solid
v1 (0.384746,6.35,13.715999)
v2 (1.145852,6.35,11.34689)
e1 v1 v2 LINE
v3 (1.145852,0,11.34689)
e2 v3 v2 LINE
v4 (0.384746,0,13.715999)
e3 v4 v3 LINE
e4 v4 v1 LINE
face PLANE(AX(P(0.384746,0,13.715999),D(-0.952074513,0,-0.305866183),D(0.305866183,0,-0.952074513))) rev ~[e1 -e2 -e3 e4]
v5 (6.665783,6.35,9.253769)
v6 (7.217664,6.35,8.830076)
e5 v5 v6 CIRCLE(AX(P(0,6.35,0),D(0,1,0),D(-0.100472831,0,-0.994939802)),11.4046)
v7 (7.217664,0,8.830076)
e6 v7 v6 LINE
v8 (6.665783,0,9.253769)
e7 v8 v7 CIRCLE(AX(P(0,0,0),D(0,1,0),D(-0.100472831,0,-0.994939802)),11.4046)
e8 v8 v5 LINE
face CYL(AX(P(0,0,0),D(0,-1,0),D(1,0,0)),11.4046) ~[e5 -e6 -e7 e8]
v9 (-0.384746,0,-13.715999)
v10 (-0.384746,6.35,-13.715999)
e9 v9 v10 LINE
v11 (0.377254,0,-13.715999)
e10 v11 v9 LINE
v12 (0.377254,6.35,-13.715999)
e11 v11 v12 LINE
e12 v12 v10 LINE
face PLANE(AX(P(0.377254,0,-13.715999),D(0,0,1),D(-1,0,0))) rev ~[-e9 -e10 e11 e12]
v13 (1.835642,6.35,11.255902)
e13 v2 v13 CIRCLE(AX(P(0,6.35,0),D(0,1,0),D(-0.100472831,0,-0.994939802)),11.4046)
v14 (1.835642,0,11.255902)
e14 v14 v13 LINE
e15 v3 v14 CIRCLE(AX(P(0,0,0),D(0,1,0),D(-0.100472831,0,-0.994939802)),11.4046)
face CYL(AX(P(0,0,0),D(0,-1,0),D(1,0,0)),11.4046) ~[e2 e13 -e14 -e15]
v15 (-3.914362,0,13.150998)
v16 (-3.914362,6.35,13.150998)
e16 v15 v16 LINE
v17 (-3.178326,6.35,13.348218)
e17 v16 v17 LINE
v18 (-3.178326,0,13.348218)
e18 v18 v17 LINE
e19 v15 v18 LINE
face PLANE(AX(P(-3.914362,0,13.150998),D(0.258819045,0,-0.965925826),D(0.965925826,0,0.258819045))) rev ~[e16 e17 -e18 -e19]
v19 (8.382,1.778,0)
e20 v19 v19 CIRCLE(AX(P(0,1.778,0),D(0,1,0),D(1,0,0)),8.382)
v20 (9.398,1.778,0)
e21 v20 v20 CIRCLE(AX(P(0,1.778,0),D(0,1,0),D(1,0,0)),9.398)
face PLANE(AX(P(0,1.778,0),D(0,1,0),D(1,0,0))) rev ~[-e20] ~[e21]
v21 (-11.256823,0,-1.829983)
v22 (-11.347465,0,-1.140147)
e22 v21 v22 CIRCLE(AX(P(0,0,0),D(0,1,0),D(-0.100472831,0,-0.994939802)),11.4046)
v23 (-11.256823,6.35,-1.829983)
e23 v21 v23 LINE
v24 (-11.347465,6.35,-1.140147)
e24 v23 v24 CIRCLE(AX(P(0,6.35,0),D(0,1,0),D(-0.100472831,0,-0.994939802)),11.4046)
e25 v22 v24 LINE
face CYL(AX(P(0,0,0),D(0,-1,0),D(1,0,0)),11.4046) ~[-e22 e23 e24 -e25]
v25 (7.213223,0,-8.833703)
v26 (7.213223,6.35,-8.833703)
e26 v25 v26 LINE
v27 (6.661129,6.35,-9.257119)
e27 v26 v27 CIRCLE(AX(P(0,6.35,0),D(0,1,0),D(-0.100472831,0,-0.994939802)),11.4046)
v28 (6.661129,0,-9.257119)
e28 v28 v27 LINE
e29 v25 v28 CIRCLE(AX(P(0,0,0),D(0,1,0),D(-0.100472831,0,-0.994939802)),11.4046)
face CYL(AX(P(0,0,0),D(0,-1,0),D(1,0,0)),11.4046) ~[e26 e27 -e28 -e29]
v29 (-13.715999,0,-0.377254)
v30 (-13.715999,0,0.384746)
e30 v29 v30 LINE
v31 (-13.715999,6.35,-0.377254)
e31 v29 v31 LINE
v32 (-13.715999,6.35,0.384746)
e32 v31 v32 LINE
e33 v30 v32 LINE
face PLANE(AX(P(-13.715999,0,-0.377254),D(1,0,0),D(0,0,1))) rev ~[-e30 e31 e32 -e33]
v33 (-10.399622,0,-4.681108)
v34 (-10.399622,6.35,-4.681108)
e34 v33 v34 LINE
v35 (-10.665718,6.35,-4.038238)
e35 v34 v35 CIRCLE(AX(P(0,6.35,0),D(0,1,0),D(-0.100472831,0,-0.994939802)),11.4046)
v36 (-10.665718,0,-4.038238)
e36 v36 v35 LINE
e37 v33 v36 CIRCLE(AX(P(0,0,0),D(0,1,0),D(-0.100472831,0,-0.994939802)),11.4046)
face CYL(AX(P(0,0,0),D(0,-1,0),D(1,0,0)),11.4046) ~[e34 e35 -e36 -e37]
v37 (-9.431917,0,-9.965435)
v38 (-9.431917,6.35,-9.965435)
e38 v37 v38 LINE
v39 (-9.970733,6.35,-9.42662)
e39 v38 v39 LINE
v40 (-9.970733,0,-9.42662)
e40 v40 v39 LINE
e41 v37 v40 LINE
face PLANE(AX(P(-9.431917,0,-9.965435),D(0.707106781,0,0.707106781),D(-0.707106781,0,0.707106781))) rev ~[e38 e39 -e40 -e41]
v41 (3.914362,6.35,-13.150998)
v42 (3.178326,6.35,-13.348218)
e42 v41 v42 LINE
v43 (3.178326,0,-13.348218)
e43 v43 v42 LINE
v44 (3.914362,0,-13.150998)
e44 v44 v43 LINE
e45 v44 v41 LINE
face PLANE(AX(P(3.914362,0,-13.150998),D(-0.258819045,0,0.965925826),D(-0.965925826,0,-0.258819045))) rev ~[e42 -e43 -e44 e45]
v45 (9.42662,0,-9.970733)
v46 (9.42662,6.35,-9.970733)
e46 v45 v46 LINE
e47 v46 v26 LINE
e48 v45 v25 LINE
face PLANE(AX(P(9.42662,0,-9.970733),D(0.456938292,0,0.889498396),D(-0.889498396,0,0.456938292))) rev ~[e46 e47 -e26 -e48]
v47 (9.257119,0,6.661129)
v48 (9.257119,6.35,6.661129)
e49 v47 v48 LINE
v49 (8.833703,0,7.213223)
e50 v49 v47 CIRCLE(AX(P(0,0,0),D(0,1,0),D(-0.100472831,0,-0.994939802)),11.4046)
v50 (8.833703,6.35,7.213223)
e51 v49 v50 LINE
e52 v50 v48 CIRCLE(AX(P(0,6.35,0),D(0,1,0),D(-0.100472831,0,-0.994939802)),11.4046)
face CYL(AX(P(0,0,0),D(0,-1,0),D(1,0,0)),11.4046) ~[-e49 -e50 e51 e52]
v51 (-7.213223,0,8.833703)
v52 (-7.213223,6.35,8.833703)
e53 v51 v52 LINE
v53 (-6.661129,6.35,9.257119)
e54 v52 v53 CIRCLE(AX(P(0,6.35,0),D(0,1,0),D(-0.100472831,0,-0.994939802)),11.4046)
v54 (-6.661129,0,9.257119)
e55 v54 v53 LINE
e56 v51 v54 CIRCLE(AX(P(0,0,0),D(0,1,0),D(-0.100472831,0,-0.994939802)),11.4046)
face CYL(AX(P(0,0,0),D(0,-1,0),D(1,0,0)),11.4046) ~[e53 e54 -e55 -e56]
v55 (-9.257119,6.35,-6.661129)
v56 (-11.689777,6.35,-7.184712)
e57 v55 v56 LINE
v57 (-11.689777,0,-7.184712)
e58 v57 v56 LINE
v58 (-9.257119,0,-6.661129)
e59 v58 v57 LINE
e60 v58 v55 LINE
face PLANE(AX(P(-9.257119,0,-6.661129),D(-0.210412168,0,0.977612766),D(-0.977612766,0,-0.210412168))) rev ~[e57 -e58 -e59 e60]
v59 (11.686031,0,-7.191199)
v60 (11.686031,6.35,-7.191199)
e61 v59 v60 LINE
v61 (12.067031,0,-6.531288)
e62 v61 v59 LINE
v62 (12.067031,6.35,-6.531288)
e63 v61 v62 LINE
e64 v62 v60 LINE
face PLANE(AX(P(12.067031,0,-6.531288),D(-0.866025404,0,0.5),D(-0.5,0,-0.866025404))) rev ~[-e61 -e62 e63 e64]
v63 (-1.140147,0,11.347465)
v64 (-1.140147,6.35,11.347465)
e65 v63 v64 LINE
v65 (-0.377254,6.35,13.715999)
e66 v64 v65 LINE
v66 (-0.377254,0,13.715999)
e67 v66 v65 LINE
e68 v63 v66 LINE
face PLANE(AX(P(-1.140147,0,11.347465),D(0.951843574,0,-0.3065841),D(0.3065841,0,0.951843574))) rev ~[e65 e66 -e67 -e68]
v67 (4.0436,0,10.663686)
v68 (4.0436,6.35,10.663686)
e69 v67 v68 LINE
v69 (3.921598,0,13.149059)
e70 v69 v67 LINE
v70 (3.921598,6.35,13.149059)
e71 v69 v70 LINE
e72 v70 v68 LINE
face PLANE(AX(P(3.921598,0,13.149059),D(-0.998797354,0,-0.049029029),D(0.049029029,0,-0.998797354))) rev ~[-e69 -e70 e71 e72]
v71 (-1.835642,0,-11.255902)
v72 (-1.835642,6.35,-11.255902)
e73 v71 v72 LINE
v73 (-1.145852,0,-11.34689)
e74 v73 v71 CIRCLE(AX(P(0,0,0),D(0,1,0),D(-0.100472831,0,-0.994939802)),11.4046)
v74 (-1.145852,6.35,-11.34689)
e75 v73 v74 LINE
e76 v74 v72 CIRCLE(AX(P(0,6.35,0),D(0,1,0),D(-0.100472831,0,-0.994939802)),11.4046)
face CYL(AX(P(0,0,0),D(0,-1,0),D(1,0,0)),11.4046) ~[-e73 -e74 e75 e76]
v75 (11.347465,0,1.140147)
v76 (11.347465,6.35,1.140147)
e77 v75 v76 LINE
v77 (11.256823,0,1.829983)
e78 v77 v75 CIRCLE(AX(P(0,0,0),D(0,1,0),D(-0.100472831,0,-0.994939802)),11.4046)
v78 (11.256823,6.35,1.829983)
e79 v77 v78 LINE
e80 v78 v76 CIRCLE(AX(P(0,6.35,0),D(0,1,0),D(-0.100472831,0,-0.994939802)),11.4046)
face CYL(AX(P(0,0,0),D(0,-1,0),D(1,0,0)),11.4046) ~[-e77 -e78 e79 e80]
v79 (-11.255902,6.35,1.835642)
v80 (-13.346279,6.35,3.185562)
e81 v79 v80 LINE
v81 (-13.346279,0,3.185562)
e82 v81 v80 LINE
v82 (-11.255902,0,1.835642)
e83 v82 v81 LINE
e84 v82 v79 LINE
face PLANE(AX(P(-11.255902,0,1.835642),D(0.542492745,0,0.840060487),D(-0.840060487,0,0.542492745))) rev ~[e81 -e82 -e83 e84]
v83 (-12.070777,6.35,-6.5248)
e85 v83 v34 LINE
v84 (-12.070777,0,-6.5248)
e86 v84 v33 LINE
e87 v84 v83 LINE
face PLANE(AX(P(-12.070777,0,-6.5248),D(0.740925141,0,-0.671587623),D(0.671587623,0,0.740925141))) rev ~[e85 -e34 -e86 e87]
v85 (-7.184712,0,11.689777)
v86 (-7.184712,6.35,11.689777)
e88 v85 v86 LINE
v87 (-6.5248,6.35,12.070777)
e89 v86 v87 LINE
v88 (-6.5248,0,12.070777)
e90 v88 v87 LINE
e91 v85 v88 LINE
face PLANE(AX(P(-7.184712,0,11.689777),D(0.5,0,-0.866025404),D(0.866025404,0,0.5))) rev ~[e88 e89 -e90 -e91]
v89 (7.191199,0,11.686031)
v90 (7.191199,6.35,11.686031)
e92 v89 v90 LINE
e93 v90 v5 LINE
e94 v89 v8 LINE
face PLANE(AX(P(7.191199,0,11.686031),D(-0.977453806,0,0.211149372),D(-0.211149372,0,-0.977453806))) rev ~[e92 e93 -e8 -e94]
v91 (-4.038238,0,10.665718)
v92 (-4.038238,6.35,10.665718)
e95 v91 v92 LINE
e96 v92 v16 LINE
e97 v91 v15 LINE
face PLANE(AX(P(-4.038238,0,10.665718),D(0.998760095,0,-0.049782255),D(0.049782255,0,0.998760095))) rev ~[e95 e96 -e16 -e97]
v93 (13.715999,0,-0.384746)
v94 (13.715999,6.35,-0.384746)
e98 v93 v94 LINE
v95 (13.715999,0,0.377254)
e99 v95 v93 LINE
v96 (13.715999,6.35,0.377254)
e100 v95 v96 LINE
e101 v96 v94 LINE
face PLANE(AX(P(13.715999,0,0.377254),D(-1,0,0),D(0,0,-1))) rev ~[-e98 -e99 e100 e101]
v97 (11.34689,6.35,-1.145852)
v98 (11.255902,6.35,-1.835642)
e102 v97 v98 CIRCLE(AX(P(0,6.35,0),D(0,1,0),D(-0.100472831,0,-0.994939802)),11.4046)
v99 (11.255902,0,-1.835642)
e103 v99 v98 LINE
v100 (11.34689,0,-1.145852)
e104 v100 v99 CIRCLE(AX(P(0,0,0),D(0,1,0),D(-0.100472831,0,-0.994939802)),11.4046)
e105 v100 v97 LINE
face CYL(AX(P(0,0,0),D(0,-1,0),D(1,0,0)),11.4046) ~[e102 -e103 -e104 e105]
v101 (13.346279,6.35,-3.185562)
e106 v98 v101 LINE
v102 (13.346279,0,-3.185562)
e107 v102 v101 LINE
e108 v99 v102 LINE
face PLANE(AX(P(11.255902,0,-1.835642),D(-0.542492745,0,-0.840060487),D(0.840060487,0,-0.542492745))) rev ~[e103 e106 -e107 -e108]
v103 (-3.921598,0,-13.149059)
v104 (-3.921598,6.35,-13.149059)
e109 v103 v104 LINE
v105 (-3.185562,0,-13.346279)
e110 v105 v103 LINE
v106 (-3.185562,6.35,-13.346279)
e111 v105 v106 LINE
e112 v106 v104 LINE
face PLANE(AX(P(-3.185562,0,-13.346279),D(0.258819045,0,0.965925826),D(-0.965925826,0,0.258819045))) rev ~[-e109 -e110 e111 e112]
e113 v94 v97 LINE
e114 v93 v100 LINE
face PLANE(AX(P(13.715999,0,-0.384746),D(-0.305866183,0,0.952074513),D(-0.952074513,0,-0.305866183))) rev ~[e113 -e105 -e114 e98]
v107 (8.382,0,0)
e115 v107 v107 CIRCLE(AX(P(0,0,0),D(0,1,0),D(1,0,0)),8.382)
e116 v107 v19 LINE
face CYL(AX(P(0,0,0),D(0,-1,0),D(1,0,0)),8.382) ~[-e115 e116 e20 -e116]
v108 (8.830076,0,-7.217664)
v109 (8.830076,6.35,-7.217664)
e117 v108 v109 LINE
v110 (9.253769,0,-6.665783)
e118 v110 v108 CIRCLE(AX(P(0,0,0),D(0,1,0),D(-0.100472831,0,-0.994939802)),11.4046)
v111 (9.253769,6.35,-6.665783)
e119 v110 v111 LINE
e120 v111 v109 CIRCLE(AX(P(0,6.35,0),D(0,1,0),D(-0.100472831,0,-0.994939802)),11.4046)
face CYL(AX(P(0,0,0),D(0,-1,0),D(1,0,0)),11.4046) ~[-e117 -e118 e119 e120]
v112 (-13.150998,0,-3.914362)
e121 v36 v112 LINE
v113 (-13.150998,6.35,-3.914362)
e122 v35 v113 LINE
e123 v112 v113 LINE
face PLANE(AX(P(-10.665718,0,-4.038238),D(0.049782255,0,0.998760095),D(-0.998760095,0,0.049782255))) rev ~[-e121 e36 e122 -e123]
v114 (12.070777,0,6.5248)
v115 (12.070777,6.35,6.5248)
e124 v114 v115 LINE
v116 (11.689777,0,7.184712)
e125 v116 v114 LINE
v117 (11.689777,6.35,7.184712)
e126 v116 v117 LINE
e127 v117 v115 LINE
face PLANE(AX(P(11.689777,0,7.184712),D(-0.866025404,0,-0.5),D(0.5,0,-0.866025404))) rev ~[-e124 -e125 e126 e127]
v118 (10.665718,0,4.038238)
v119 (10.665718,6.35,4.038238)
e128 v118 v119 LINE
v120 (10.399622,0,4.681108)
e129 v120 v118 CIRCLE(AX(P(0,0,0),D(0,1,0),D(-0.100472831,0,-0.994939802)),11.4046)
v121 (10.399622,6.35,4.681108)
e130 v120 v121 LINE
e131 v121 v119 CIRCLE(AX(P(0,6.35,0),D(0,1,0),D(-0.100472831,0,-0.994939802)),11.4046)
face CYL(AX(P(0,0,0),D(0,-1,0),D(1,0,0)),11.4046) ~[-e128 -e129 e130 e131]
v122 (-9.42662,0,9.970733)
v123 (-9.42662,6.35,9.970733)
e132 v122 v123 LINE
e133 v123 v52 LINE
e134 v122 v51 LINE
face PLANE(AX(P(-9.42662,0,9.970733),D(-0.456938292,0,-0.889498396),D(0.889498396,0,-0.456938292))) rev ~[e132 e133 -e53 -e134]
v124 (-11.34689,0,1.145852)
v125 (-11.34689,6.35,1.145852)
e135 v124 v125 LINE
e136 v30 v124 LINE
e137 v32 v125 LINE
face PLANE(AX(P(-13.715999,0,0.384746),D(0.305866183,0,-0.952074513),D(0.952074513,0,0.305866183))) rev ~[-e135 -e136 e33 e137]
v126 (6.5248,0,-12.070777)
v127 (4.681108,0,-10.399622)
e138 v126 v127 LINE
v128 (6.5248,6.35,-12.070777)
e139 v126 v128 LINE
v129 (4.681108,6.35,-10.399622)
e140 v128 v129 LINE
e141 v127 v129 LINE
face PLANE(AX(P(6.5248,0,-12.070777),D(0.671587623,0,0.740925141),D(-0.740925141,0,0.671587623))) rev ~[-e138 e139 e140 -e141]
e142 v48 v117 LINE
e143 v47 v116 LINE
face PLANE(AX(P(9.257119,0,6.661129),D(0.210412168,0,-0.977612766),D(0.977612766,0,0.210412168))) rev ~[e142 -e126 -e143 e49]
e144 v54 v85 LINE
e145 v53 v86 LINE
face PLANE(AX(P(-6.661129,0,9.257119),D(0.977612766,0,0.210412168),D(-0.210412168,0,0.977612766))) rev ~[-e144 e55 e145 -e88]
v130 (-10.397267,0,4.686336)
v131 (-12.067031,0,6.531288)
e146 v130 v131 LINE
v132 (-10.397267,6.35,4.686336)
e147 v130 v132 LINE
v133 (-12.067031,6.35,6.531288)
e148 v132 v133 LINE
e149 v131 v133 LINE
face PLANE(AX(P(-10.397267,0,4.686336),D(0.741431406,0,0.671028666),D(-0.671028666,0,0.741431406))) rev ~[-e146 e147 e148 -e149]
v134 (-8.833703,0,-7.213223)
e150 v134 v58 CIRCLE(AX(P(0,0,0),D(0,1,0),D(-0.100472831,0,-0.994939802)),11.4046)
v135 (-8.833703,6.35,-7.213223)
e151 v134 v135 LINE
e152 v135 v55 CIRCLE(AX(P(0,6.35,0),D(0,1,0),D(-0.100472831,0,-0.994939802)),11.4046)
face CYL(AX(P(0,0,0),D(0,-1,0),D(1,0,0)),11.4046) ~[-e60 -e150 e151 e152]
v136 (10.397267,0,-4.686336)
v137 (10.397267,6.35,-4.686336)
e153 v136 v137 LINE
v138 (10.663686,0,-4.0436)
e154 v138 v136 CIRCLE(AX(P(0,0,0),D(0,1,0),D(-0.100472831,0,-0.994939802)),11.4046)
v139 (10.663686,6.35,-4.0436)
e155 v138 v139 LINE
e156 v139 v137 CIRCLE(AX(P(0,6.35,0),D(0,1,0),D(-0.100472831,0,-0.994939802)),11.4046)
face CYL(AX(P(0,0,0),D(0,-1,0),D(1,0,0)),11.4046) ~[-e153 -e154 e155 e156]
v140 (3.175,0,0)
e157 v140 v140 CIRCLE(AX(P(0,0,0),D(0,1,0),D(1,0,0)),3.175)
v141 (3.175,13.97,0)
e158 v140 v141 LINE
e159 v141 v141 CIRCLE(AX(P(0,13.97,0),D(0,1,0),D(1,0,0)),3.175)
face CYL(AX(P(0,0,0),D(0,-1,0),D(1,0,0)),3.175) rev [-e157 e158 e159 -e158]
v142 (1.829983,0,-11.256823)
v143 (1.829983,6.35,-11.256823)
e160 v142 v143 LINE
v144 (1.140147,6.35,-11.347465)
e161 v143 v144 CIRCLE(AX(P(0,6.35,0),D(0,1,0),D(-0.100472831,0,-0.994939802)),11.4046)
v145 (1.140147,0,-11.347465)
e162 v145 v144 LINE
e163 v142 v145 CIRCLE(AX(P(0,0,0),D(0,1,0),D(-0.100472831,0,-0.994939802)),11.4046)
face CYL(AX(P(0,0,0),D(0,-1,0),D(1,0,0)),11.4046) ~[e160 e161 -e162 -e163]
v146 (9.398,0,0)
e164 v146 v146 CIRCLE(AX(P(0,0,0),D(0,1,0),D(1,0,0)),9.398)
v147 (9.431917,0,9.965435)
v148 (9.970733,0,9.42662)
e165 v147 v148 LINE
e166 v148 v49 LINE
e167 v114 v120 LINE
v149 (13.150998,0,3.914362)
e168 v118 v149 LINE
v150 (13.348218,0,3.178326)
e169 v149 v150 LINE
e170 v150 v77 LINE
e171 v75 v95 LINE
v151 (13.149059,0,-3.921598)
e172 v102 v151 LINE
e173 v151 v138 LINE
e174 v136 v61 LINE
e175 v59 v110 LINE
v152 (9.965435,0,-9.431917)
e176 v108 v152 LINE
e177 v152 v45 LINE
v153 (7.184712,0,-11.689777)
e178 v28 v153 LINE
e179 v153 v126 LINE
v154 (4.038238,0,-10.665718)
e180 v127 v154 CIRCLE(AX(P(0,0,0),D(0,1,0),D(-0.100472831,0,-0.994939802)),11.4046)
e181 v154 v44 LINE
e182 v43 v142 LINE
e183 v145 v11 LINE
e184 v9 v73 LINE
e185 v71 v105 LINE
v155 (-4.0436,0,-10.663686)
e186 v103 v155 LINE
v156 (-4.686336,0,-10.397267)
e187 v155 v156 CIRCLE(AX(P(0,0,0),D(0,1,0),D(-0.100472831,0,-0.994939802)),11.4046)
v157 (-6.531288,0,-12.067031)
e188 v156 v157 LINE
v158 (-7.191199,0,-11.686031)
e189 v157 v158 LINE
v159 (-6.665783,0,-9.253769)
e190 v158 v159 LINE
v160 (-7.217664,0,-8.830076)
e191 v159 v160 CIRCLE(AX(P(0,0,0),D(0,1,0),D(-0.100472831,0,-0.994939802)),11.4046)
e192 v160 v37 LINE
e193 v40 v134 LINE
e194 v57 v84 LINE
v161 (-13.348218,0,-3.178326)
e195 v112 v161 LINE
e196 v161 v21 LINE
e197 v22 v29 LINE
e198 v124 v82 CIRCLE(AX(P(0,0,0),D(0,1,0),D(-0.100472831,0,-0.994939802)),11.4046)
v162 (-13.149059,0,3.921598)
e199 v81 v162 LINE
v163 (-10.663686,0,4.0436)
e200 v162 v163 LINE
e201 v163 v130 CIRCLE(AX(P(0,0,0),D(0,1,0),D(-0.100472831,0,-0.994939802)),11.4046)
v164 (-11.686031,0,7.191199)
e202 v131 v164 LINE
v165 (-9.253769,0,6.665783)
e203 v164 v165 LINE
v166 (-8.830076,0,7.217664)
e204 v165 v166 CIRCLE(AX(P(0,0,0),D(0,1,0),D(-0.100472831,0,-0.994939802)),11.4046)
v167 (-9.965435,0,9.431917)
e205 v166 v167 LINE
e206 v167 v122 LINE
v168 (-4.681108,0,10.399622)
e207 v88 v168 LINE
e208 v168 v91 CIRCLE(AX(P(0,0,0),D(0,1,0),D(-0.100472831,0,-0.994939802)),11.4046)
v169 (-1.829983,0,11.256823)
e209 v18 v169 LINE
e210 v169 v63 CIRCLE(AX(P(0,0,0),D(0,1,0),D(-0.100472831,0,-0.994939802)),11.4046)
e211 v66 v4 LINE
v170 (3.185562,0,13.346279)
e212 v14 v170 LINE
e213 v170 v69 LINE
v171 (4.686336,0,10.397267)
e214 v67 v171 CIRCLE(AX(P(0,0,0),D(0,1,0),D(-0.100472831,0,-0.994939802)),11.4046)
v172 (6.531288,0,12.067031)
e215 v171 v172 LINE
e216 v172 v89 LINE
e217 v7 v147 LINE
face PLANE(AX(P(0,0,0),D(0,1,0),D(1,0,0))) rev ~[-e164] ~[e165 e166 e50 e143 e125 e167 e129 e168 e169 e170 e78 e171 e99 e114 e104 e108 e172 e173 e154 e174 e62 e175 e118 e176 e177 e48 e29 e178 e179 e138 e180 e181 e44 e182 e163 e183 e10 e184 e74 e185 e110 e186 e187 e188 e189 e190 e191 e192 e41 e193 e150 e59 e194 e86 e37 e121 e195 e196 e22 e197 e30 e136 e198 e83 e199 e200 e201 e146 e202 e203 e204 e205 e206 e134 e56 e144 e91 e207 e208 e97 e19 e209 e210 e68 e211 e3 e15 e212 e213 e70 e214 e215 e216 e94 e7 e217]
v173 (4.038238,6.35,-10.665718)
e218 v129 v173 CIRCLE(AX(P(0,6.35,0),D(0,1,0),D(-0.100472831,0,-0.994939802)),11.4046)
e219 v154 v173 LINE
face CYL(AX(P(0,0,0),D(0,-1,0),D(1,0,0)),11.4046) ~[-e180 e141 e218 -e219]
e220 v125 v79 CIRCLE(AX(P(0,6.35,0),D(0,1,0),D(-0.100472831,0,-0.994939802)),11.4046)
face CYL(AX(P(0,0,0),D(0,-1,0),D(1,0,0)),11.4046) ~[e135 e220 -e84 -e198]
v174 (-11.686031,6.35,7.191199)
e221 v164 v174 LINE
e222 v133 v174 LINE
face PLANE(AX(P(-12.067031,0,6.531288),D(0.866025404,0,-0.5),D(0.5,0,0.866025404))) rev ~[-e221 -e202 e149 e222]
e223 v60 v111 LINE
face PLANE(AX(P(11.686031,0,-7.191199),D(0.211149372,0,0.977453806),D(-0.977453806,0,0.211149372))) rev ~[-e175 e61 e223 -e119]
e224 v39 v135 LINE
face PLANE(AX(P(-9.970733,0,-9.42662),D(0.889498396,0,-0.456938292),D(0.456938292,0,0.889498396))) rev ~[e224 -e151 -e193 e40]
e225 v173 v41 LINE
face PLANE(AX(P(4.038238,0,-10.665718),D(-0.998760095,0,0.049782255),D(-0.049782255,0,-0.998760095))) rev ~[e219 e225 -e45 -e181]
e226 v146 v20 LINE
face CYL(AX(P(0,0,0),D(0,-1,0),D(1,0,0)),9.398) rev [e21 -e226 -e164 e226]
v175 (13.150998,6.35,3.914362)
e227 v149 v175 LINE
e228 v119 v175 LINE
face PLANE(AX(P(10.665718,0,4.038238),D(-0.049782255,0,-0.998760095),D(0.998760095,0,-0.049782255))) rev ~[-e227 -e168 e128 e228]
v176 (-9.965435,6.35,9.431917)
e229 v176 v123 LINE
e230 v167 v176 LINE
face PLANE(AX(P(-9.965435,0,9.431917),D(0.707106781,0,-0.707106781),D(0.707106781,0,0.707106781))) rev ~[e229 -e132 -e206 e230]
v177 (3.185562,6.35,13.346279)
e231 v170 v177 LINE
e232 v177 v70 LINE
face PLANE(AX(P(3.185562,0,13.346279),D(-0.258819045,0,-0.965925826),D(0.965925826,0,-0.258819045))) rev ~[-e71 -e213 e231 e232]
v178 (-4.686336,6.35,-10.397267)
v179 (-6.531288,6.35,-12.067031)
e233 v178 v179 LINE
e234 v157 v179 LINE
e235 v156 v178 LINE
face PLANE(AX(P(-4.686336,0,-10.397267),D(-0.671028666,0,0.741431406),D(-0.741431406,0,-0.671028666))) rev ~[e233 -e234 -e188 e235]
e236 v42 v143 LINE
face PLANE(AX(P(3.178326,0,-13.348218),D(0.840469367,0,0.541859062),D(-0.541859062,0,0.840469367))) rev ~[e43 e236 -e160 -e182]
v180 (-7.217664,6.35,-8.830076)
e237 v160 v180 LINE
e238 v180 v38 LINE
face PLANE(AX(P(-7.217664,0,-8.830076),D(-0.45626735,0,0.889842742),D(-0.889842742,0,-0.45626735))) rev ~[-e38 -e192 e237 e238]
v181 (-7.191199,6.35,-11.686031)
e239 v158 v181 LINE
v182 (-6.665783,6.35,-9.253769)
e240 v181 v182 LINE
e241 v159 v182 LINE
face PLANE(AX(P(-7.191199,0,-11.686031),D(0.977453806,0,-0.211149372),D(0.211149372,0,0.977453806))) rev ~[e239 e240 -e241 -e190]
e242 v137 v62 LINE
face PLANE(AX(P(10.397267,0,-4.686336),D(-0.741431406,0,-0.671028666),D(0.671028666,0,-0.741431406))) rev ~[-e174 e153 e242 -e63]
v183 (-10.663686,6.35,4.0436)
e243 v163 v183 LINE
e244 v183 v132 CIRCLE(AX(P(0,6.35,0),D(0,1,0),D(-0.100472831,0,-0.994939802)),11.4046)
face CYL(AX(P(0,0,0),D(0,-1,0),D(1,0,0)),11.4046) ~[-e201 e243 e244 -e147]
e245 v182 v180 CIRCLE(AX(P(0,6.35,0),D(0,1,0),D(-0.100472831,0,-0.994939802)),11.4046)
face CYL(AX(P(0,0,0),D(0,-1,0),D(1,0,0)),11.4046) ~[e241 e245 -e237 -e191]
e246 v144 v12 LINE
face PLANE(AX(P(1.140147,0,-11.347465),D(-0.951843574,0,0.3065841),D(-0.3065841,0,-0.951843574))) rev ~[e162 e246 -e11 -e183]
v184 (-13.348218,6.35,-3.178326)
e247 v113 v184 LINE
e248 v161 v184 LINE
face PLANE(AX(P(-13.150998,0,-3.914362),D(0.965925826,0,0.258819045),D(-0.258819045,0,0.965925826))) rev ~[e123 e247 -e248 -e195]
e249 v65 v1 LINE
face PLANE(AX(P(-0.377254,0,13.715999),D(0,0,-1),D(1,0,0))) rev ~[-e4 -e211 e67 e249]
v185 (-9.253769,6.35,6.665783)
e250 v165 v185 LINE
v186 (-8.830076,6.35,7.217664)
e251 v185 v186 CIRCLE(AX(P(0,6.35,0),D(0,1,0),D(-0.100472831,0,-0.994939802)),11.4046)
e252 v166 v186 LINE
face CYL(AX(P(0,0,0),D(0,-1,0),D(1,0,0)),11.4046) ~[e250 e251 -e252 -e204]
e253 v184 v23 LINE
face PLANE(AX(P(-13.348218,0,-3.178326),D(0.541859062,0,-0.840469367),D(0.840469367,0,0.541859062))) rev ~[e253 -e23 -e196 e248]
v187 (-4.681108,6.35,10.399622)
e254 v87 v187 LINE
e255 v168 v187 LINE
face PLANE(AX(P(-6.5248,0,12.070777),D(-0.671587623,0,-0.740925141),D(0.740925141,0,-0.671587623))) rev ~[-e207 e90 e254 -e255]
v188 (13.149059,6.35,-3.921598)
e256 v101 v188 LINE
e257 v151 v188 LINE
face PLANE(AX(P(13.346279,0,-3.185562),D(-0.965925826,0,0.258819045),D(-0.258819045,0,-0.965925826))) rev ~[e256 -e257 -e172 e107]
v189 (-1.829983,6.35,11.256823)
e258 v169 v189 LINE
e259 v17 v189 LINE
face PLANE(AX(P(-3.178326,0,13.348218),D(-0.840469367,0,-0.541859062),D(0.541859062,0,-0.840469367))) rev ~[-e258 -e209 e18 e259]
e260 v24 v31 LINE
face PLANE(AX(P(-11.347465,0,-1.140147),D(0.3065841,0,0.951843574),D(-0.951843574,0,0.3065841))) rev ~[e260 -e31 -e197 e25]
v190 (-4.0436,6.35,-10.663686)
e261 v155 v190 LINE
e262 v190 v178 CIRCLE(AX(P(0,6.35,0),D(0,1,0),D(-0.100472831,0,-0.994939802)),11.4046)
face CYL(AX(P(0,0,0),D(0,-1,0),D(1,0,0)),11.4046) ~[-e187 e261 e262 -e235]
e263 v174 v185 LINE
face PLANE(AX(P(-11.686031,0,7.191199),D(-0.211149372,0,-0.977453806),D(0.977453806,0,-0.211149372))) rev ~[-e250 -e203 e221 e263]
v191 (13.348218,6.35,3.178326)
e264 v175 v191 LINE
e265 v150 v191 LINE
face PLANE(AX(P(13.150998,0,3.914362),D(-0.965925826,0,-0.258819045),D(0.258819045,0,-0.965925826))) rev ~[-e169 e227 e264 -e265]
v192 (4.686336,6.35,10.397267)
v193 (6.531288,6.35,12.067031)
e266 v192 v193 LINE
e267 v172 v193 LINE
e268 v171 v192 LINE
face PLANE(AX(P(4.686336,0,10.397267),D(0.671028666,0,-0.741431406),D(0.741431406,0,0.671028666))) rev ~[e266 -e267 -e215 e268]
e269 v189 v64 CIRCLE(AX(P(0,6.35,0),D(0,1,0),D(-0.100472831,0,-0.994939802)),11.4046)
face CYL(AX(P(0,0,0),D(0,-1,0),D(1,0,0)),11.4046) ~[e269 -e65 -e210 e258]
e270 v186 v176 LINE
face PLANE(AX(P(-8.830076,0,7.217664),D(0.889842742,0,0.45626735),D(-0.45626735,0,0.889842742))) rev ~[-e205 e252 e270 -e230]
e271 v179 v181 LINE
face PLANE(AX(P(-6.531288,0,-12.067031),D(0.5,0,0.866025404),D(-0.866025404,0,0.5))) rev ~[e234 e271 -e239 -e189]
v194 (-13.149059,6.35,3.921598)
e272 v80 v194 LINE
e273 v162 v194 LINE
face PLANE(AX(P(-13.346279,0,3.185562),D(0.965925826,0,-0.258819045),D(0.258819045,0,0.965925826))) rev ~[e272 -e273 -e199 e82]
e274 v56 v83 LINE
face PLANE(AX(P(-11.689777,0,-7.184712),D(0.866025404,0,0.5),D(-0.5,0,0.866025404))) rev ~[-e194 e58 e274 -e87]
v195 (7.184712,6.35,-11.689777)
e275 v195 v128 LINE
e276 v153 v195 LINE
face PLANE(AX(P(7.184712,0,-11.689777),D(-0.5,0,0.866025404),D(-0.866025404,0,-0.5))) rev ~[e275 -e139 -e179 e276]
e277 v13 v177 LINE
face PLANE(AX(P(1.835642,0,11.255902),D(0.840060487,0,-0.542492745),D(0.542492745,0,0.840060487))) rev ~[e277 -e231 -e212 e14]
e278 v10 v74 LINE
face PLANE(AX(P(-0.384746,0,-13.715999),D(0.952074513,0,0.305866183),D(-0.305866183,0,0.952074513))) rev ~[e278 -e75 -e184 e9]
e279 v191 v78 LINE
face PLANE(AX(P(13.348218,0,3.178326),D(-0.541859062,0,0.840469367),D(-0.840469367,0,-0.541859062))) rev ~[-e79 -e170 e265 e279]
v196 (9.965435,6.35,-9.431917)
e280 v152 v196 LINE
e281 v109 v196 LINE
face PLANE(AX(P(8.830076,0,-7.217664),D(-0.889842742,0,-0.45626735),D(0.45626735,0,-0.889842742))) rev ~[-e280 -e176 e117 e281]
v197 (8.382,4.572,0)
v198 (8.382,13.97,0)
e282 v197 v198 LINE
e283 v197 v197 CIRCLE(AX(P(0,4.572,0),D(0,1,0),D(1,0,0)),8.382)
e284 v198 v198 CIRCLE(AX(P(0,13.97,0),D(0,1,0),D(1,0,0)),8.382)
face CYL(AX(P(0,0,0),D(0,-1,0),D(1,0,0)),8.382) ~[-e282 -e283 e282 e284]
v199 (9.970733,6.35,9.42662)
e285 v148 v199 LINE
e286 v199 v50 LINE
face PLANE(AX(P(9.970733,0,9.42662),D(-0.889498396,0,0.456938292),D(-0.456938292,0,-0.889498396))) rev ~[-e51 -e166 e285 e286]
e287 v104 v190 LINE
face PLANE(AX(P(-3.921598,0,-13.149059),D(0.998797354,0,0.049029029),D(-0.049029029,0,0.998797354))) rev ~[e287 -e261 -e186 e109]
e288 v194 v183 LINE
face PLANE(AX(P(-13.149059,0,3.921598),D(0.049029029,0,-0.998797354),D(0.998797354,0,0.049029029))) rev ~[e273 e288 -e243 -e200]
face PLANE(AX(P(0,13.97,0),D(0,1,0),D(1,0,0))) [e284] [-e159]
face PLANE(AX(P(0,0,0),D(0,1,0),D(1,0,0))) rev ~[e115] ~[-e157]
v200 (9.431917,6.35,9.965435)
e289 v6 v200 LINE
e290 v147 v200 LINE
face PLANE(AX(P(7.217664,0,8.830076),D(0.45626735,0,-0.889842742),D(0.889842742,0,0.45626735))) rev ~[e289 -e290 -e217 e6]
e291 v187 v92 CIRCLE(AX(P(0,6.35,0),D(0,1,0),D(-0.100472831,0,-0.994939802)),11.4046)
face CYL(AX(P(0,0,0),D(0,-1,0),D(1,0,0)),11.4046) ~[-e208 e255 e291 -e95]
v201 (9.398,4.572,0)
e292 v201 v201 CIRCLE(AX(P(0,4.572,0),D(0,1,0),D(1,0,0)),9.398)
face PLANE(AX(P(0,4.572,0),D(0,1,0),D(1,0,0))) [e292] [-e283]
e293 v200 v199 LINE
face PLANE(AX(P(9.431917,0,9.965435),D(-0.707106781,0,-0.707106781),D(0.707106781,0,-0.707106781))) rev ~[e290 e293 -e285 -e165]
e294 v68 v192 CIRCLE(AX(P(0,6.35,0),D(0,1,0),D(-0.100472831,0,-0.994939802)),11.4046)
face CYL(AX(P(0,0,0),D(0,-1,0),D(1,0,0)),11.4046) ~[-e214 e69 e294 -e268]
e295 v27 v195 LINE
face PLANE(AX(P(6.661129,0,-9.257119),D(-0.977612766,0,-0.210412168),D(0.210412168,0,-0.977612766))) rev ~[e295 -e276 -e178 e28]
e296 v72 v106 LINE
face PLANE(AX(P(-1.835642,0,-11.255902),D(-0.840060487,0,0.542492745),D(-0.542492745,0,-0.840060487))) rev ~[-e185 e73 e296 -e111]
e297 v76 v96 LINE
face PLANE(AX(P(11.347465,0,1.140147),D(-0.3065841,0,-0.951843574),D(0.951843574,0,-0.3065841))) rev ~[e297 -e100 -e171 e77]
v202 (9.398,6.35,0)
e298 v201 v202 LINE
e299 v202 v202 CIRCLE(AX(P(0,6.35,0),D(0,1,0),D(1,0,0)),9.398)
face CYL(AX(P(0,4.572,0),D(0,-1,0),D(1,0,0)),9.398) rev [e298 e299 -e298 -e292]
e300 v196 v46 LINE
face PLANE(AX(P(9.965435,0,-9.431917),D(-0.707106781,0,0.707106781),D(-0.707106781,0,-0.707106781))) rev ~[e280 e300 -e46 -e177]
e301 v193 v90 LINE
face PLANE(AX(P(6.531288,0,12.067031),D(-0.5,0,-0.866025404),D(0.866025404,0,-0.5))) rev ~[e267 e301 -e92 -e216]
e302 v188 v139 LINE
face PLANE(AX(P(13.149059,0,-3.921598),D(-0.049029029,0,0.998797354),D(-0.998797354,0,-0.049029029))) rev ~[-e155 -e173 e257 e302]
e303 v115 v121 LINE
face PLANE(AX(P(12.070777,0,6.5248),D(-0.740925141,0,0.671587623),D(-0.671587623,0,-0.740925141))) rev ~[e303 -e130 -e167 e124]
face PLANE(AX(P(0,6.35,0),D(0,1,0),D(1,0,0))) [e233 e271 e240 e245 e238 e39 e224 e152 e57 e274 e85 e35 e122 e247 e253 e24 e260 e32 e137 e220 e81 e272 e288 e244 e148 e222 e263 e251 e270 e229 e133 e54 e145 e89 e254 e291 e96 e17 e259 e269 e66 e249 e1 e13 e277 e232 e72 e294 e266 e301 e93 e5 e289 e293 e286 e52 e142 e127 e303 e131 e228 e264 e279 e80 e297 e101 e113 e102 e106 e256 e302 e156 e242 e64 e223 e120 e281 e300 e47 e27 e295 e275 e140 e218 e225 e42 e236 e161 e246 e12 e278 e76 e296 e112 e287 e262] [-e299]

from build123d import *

# Parameters (mm, degrees)
SKETCH1_R           = 11.4046
SKETCH1_R_2         = 8.382
BOSS_EXTRUDE1_DEPTH = 6.35
SKETCH1_3_R         = 8.382
SKETCH1_3_R_2       = 3.175
BOSS_EXTRUDE2_DEPTH = 13.97
SKETCH1_4_R         = 9.398
SKETCH1_4_R_2       = 8.382
CUT_EXTRUDE1_DEPTH  = 1.778
CUT_EXTRUDE3_START  = 4.572
SKETCH1_8_R         = 9.398
SKETCH1_8_R_2       = 8.382
CUT_EXTRUDE3_DEPTH  = 1.778
BOSS_EXTRUDE3_START = -6.35
BOSS_EXTRUDE3_DEPTH = 6.35
CIRPATTERN1_COUNT   = 24


with BuildPart() as part:
    # Sketch1 → Boss-Extrude1 (new body)
    with BuildSketch(Plane(origin=(0, 0, 0), x_dir=(1, 0, 0), z_dir=(0, 1, 0))):
        Circle(SKETCH1_R)
        Circle(SKETCH1_R_2, mode=Mode.SUBTRACT)
    extrude(amount=BOSS_EXTRUDE1_DEPTH)

    # Sketch1<3> → Boss-Extrude2 (add)
    with BuildSketch(Plane(origin=(0, 0, 0), x_dir=(1, 0, 0), z_dir=(0, 1, 0))):
        Circle(SKETCH1_3_R)
        Circle(SKETCH1_3_R_2, mode=Mode.SUBTRACT)
    extrude(amount=BOSS_EXTRUDE2_DEPTH)

    # Sketch1<4> → Cut-Extrude1 (cut)
    with BuildSketch(Plane(origin=(0, 0, 0), x_dir=(1, 0, 0), z_dir=(0, 1, 0))):
        Circle(SKETCH1_4_R)
        Circle(SKETCH1_4_R_2, mode=Mode.SUBTRACT)
    extrude(amount=CUT_EXTRUDE1_DEPTH, mode=Mode.SUBTRACT)

    # Sketch1<8> → Cut-Extrude3 (cut)
    with BuildSketch(Plane(origin=(0, 0, 0), x_dir=(1, 0, 0), z_dir=(0, 1, 0)).offset(CUT_EXTRUDE3_START)):
        Circle(SKETCH1_8_R)
        Circle(SKETCH1_8_R_2, mode=Mode.SUBTRACT)
    extrude(amount=CUT_EXTRUDE3_DEPTH, mode=Mode.SUBTRACT)

    # Sketch2 → Boss-Extrude3 (add)
    with BuildSketch(Plane(origin=(0, 6.35, 0), x_dir=(1, 0, 0), z_dir=(0, 1, 0)).offset(BOSS_EXTRUDE3_START)):
        with BuildLine():
            Line((0.3772543, 13.715999489), (-0.3847457, 13.715999489))
            Line((-0.3847457, 13.715999489), (-1.145852444, 11.34689047))
            ThreePointArc((-1.145852444, 11.34689047), (-0.002866915, 11.40459964), (1.140147484, 11.34746513))
            Line((1.140147484, 11.34746513), (0.3772543, 13.715999489))
        make_face()
    boss_extrude3 = extrude(amount=BOSS_EXTRUDE3_DEPTH)

    # CirPattern1: Boss-Extrude3 ×24 about axis
    cirpattern1_axis = Axis((0, 6.35, 0), (0, -1, 0))
    for i in range(1, CIRPATTERN1_COUNT):
        add(boss_extrude3.rotate(cirpattern1_axis, i * 360 / CIRPATTERN1_COUNT))


solid = part.part
